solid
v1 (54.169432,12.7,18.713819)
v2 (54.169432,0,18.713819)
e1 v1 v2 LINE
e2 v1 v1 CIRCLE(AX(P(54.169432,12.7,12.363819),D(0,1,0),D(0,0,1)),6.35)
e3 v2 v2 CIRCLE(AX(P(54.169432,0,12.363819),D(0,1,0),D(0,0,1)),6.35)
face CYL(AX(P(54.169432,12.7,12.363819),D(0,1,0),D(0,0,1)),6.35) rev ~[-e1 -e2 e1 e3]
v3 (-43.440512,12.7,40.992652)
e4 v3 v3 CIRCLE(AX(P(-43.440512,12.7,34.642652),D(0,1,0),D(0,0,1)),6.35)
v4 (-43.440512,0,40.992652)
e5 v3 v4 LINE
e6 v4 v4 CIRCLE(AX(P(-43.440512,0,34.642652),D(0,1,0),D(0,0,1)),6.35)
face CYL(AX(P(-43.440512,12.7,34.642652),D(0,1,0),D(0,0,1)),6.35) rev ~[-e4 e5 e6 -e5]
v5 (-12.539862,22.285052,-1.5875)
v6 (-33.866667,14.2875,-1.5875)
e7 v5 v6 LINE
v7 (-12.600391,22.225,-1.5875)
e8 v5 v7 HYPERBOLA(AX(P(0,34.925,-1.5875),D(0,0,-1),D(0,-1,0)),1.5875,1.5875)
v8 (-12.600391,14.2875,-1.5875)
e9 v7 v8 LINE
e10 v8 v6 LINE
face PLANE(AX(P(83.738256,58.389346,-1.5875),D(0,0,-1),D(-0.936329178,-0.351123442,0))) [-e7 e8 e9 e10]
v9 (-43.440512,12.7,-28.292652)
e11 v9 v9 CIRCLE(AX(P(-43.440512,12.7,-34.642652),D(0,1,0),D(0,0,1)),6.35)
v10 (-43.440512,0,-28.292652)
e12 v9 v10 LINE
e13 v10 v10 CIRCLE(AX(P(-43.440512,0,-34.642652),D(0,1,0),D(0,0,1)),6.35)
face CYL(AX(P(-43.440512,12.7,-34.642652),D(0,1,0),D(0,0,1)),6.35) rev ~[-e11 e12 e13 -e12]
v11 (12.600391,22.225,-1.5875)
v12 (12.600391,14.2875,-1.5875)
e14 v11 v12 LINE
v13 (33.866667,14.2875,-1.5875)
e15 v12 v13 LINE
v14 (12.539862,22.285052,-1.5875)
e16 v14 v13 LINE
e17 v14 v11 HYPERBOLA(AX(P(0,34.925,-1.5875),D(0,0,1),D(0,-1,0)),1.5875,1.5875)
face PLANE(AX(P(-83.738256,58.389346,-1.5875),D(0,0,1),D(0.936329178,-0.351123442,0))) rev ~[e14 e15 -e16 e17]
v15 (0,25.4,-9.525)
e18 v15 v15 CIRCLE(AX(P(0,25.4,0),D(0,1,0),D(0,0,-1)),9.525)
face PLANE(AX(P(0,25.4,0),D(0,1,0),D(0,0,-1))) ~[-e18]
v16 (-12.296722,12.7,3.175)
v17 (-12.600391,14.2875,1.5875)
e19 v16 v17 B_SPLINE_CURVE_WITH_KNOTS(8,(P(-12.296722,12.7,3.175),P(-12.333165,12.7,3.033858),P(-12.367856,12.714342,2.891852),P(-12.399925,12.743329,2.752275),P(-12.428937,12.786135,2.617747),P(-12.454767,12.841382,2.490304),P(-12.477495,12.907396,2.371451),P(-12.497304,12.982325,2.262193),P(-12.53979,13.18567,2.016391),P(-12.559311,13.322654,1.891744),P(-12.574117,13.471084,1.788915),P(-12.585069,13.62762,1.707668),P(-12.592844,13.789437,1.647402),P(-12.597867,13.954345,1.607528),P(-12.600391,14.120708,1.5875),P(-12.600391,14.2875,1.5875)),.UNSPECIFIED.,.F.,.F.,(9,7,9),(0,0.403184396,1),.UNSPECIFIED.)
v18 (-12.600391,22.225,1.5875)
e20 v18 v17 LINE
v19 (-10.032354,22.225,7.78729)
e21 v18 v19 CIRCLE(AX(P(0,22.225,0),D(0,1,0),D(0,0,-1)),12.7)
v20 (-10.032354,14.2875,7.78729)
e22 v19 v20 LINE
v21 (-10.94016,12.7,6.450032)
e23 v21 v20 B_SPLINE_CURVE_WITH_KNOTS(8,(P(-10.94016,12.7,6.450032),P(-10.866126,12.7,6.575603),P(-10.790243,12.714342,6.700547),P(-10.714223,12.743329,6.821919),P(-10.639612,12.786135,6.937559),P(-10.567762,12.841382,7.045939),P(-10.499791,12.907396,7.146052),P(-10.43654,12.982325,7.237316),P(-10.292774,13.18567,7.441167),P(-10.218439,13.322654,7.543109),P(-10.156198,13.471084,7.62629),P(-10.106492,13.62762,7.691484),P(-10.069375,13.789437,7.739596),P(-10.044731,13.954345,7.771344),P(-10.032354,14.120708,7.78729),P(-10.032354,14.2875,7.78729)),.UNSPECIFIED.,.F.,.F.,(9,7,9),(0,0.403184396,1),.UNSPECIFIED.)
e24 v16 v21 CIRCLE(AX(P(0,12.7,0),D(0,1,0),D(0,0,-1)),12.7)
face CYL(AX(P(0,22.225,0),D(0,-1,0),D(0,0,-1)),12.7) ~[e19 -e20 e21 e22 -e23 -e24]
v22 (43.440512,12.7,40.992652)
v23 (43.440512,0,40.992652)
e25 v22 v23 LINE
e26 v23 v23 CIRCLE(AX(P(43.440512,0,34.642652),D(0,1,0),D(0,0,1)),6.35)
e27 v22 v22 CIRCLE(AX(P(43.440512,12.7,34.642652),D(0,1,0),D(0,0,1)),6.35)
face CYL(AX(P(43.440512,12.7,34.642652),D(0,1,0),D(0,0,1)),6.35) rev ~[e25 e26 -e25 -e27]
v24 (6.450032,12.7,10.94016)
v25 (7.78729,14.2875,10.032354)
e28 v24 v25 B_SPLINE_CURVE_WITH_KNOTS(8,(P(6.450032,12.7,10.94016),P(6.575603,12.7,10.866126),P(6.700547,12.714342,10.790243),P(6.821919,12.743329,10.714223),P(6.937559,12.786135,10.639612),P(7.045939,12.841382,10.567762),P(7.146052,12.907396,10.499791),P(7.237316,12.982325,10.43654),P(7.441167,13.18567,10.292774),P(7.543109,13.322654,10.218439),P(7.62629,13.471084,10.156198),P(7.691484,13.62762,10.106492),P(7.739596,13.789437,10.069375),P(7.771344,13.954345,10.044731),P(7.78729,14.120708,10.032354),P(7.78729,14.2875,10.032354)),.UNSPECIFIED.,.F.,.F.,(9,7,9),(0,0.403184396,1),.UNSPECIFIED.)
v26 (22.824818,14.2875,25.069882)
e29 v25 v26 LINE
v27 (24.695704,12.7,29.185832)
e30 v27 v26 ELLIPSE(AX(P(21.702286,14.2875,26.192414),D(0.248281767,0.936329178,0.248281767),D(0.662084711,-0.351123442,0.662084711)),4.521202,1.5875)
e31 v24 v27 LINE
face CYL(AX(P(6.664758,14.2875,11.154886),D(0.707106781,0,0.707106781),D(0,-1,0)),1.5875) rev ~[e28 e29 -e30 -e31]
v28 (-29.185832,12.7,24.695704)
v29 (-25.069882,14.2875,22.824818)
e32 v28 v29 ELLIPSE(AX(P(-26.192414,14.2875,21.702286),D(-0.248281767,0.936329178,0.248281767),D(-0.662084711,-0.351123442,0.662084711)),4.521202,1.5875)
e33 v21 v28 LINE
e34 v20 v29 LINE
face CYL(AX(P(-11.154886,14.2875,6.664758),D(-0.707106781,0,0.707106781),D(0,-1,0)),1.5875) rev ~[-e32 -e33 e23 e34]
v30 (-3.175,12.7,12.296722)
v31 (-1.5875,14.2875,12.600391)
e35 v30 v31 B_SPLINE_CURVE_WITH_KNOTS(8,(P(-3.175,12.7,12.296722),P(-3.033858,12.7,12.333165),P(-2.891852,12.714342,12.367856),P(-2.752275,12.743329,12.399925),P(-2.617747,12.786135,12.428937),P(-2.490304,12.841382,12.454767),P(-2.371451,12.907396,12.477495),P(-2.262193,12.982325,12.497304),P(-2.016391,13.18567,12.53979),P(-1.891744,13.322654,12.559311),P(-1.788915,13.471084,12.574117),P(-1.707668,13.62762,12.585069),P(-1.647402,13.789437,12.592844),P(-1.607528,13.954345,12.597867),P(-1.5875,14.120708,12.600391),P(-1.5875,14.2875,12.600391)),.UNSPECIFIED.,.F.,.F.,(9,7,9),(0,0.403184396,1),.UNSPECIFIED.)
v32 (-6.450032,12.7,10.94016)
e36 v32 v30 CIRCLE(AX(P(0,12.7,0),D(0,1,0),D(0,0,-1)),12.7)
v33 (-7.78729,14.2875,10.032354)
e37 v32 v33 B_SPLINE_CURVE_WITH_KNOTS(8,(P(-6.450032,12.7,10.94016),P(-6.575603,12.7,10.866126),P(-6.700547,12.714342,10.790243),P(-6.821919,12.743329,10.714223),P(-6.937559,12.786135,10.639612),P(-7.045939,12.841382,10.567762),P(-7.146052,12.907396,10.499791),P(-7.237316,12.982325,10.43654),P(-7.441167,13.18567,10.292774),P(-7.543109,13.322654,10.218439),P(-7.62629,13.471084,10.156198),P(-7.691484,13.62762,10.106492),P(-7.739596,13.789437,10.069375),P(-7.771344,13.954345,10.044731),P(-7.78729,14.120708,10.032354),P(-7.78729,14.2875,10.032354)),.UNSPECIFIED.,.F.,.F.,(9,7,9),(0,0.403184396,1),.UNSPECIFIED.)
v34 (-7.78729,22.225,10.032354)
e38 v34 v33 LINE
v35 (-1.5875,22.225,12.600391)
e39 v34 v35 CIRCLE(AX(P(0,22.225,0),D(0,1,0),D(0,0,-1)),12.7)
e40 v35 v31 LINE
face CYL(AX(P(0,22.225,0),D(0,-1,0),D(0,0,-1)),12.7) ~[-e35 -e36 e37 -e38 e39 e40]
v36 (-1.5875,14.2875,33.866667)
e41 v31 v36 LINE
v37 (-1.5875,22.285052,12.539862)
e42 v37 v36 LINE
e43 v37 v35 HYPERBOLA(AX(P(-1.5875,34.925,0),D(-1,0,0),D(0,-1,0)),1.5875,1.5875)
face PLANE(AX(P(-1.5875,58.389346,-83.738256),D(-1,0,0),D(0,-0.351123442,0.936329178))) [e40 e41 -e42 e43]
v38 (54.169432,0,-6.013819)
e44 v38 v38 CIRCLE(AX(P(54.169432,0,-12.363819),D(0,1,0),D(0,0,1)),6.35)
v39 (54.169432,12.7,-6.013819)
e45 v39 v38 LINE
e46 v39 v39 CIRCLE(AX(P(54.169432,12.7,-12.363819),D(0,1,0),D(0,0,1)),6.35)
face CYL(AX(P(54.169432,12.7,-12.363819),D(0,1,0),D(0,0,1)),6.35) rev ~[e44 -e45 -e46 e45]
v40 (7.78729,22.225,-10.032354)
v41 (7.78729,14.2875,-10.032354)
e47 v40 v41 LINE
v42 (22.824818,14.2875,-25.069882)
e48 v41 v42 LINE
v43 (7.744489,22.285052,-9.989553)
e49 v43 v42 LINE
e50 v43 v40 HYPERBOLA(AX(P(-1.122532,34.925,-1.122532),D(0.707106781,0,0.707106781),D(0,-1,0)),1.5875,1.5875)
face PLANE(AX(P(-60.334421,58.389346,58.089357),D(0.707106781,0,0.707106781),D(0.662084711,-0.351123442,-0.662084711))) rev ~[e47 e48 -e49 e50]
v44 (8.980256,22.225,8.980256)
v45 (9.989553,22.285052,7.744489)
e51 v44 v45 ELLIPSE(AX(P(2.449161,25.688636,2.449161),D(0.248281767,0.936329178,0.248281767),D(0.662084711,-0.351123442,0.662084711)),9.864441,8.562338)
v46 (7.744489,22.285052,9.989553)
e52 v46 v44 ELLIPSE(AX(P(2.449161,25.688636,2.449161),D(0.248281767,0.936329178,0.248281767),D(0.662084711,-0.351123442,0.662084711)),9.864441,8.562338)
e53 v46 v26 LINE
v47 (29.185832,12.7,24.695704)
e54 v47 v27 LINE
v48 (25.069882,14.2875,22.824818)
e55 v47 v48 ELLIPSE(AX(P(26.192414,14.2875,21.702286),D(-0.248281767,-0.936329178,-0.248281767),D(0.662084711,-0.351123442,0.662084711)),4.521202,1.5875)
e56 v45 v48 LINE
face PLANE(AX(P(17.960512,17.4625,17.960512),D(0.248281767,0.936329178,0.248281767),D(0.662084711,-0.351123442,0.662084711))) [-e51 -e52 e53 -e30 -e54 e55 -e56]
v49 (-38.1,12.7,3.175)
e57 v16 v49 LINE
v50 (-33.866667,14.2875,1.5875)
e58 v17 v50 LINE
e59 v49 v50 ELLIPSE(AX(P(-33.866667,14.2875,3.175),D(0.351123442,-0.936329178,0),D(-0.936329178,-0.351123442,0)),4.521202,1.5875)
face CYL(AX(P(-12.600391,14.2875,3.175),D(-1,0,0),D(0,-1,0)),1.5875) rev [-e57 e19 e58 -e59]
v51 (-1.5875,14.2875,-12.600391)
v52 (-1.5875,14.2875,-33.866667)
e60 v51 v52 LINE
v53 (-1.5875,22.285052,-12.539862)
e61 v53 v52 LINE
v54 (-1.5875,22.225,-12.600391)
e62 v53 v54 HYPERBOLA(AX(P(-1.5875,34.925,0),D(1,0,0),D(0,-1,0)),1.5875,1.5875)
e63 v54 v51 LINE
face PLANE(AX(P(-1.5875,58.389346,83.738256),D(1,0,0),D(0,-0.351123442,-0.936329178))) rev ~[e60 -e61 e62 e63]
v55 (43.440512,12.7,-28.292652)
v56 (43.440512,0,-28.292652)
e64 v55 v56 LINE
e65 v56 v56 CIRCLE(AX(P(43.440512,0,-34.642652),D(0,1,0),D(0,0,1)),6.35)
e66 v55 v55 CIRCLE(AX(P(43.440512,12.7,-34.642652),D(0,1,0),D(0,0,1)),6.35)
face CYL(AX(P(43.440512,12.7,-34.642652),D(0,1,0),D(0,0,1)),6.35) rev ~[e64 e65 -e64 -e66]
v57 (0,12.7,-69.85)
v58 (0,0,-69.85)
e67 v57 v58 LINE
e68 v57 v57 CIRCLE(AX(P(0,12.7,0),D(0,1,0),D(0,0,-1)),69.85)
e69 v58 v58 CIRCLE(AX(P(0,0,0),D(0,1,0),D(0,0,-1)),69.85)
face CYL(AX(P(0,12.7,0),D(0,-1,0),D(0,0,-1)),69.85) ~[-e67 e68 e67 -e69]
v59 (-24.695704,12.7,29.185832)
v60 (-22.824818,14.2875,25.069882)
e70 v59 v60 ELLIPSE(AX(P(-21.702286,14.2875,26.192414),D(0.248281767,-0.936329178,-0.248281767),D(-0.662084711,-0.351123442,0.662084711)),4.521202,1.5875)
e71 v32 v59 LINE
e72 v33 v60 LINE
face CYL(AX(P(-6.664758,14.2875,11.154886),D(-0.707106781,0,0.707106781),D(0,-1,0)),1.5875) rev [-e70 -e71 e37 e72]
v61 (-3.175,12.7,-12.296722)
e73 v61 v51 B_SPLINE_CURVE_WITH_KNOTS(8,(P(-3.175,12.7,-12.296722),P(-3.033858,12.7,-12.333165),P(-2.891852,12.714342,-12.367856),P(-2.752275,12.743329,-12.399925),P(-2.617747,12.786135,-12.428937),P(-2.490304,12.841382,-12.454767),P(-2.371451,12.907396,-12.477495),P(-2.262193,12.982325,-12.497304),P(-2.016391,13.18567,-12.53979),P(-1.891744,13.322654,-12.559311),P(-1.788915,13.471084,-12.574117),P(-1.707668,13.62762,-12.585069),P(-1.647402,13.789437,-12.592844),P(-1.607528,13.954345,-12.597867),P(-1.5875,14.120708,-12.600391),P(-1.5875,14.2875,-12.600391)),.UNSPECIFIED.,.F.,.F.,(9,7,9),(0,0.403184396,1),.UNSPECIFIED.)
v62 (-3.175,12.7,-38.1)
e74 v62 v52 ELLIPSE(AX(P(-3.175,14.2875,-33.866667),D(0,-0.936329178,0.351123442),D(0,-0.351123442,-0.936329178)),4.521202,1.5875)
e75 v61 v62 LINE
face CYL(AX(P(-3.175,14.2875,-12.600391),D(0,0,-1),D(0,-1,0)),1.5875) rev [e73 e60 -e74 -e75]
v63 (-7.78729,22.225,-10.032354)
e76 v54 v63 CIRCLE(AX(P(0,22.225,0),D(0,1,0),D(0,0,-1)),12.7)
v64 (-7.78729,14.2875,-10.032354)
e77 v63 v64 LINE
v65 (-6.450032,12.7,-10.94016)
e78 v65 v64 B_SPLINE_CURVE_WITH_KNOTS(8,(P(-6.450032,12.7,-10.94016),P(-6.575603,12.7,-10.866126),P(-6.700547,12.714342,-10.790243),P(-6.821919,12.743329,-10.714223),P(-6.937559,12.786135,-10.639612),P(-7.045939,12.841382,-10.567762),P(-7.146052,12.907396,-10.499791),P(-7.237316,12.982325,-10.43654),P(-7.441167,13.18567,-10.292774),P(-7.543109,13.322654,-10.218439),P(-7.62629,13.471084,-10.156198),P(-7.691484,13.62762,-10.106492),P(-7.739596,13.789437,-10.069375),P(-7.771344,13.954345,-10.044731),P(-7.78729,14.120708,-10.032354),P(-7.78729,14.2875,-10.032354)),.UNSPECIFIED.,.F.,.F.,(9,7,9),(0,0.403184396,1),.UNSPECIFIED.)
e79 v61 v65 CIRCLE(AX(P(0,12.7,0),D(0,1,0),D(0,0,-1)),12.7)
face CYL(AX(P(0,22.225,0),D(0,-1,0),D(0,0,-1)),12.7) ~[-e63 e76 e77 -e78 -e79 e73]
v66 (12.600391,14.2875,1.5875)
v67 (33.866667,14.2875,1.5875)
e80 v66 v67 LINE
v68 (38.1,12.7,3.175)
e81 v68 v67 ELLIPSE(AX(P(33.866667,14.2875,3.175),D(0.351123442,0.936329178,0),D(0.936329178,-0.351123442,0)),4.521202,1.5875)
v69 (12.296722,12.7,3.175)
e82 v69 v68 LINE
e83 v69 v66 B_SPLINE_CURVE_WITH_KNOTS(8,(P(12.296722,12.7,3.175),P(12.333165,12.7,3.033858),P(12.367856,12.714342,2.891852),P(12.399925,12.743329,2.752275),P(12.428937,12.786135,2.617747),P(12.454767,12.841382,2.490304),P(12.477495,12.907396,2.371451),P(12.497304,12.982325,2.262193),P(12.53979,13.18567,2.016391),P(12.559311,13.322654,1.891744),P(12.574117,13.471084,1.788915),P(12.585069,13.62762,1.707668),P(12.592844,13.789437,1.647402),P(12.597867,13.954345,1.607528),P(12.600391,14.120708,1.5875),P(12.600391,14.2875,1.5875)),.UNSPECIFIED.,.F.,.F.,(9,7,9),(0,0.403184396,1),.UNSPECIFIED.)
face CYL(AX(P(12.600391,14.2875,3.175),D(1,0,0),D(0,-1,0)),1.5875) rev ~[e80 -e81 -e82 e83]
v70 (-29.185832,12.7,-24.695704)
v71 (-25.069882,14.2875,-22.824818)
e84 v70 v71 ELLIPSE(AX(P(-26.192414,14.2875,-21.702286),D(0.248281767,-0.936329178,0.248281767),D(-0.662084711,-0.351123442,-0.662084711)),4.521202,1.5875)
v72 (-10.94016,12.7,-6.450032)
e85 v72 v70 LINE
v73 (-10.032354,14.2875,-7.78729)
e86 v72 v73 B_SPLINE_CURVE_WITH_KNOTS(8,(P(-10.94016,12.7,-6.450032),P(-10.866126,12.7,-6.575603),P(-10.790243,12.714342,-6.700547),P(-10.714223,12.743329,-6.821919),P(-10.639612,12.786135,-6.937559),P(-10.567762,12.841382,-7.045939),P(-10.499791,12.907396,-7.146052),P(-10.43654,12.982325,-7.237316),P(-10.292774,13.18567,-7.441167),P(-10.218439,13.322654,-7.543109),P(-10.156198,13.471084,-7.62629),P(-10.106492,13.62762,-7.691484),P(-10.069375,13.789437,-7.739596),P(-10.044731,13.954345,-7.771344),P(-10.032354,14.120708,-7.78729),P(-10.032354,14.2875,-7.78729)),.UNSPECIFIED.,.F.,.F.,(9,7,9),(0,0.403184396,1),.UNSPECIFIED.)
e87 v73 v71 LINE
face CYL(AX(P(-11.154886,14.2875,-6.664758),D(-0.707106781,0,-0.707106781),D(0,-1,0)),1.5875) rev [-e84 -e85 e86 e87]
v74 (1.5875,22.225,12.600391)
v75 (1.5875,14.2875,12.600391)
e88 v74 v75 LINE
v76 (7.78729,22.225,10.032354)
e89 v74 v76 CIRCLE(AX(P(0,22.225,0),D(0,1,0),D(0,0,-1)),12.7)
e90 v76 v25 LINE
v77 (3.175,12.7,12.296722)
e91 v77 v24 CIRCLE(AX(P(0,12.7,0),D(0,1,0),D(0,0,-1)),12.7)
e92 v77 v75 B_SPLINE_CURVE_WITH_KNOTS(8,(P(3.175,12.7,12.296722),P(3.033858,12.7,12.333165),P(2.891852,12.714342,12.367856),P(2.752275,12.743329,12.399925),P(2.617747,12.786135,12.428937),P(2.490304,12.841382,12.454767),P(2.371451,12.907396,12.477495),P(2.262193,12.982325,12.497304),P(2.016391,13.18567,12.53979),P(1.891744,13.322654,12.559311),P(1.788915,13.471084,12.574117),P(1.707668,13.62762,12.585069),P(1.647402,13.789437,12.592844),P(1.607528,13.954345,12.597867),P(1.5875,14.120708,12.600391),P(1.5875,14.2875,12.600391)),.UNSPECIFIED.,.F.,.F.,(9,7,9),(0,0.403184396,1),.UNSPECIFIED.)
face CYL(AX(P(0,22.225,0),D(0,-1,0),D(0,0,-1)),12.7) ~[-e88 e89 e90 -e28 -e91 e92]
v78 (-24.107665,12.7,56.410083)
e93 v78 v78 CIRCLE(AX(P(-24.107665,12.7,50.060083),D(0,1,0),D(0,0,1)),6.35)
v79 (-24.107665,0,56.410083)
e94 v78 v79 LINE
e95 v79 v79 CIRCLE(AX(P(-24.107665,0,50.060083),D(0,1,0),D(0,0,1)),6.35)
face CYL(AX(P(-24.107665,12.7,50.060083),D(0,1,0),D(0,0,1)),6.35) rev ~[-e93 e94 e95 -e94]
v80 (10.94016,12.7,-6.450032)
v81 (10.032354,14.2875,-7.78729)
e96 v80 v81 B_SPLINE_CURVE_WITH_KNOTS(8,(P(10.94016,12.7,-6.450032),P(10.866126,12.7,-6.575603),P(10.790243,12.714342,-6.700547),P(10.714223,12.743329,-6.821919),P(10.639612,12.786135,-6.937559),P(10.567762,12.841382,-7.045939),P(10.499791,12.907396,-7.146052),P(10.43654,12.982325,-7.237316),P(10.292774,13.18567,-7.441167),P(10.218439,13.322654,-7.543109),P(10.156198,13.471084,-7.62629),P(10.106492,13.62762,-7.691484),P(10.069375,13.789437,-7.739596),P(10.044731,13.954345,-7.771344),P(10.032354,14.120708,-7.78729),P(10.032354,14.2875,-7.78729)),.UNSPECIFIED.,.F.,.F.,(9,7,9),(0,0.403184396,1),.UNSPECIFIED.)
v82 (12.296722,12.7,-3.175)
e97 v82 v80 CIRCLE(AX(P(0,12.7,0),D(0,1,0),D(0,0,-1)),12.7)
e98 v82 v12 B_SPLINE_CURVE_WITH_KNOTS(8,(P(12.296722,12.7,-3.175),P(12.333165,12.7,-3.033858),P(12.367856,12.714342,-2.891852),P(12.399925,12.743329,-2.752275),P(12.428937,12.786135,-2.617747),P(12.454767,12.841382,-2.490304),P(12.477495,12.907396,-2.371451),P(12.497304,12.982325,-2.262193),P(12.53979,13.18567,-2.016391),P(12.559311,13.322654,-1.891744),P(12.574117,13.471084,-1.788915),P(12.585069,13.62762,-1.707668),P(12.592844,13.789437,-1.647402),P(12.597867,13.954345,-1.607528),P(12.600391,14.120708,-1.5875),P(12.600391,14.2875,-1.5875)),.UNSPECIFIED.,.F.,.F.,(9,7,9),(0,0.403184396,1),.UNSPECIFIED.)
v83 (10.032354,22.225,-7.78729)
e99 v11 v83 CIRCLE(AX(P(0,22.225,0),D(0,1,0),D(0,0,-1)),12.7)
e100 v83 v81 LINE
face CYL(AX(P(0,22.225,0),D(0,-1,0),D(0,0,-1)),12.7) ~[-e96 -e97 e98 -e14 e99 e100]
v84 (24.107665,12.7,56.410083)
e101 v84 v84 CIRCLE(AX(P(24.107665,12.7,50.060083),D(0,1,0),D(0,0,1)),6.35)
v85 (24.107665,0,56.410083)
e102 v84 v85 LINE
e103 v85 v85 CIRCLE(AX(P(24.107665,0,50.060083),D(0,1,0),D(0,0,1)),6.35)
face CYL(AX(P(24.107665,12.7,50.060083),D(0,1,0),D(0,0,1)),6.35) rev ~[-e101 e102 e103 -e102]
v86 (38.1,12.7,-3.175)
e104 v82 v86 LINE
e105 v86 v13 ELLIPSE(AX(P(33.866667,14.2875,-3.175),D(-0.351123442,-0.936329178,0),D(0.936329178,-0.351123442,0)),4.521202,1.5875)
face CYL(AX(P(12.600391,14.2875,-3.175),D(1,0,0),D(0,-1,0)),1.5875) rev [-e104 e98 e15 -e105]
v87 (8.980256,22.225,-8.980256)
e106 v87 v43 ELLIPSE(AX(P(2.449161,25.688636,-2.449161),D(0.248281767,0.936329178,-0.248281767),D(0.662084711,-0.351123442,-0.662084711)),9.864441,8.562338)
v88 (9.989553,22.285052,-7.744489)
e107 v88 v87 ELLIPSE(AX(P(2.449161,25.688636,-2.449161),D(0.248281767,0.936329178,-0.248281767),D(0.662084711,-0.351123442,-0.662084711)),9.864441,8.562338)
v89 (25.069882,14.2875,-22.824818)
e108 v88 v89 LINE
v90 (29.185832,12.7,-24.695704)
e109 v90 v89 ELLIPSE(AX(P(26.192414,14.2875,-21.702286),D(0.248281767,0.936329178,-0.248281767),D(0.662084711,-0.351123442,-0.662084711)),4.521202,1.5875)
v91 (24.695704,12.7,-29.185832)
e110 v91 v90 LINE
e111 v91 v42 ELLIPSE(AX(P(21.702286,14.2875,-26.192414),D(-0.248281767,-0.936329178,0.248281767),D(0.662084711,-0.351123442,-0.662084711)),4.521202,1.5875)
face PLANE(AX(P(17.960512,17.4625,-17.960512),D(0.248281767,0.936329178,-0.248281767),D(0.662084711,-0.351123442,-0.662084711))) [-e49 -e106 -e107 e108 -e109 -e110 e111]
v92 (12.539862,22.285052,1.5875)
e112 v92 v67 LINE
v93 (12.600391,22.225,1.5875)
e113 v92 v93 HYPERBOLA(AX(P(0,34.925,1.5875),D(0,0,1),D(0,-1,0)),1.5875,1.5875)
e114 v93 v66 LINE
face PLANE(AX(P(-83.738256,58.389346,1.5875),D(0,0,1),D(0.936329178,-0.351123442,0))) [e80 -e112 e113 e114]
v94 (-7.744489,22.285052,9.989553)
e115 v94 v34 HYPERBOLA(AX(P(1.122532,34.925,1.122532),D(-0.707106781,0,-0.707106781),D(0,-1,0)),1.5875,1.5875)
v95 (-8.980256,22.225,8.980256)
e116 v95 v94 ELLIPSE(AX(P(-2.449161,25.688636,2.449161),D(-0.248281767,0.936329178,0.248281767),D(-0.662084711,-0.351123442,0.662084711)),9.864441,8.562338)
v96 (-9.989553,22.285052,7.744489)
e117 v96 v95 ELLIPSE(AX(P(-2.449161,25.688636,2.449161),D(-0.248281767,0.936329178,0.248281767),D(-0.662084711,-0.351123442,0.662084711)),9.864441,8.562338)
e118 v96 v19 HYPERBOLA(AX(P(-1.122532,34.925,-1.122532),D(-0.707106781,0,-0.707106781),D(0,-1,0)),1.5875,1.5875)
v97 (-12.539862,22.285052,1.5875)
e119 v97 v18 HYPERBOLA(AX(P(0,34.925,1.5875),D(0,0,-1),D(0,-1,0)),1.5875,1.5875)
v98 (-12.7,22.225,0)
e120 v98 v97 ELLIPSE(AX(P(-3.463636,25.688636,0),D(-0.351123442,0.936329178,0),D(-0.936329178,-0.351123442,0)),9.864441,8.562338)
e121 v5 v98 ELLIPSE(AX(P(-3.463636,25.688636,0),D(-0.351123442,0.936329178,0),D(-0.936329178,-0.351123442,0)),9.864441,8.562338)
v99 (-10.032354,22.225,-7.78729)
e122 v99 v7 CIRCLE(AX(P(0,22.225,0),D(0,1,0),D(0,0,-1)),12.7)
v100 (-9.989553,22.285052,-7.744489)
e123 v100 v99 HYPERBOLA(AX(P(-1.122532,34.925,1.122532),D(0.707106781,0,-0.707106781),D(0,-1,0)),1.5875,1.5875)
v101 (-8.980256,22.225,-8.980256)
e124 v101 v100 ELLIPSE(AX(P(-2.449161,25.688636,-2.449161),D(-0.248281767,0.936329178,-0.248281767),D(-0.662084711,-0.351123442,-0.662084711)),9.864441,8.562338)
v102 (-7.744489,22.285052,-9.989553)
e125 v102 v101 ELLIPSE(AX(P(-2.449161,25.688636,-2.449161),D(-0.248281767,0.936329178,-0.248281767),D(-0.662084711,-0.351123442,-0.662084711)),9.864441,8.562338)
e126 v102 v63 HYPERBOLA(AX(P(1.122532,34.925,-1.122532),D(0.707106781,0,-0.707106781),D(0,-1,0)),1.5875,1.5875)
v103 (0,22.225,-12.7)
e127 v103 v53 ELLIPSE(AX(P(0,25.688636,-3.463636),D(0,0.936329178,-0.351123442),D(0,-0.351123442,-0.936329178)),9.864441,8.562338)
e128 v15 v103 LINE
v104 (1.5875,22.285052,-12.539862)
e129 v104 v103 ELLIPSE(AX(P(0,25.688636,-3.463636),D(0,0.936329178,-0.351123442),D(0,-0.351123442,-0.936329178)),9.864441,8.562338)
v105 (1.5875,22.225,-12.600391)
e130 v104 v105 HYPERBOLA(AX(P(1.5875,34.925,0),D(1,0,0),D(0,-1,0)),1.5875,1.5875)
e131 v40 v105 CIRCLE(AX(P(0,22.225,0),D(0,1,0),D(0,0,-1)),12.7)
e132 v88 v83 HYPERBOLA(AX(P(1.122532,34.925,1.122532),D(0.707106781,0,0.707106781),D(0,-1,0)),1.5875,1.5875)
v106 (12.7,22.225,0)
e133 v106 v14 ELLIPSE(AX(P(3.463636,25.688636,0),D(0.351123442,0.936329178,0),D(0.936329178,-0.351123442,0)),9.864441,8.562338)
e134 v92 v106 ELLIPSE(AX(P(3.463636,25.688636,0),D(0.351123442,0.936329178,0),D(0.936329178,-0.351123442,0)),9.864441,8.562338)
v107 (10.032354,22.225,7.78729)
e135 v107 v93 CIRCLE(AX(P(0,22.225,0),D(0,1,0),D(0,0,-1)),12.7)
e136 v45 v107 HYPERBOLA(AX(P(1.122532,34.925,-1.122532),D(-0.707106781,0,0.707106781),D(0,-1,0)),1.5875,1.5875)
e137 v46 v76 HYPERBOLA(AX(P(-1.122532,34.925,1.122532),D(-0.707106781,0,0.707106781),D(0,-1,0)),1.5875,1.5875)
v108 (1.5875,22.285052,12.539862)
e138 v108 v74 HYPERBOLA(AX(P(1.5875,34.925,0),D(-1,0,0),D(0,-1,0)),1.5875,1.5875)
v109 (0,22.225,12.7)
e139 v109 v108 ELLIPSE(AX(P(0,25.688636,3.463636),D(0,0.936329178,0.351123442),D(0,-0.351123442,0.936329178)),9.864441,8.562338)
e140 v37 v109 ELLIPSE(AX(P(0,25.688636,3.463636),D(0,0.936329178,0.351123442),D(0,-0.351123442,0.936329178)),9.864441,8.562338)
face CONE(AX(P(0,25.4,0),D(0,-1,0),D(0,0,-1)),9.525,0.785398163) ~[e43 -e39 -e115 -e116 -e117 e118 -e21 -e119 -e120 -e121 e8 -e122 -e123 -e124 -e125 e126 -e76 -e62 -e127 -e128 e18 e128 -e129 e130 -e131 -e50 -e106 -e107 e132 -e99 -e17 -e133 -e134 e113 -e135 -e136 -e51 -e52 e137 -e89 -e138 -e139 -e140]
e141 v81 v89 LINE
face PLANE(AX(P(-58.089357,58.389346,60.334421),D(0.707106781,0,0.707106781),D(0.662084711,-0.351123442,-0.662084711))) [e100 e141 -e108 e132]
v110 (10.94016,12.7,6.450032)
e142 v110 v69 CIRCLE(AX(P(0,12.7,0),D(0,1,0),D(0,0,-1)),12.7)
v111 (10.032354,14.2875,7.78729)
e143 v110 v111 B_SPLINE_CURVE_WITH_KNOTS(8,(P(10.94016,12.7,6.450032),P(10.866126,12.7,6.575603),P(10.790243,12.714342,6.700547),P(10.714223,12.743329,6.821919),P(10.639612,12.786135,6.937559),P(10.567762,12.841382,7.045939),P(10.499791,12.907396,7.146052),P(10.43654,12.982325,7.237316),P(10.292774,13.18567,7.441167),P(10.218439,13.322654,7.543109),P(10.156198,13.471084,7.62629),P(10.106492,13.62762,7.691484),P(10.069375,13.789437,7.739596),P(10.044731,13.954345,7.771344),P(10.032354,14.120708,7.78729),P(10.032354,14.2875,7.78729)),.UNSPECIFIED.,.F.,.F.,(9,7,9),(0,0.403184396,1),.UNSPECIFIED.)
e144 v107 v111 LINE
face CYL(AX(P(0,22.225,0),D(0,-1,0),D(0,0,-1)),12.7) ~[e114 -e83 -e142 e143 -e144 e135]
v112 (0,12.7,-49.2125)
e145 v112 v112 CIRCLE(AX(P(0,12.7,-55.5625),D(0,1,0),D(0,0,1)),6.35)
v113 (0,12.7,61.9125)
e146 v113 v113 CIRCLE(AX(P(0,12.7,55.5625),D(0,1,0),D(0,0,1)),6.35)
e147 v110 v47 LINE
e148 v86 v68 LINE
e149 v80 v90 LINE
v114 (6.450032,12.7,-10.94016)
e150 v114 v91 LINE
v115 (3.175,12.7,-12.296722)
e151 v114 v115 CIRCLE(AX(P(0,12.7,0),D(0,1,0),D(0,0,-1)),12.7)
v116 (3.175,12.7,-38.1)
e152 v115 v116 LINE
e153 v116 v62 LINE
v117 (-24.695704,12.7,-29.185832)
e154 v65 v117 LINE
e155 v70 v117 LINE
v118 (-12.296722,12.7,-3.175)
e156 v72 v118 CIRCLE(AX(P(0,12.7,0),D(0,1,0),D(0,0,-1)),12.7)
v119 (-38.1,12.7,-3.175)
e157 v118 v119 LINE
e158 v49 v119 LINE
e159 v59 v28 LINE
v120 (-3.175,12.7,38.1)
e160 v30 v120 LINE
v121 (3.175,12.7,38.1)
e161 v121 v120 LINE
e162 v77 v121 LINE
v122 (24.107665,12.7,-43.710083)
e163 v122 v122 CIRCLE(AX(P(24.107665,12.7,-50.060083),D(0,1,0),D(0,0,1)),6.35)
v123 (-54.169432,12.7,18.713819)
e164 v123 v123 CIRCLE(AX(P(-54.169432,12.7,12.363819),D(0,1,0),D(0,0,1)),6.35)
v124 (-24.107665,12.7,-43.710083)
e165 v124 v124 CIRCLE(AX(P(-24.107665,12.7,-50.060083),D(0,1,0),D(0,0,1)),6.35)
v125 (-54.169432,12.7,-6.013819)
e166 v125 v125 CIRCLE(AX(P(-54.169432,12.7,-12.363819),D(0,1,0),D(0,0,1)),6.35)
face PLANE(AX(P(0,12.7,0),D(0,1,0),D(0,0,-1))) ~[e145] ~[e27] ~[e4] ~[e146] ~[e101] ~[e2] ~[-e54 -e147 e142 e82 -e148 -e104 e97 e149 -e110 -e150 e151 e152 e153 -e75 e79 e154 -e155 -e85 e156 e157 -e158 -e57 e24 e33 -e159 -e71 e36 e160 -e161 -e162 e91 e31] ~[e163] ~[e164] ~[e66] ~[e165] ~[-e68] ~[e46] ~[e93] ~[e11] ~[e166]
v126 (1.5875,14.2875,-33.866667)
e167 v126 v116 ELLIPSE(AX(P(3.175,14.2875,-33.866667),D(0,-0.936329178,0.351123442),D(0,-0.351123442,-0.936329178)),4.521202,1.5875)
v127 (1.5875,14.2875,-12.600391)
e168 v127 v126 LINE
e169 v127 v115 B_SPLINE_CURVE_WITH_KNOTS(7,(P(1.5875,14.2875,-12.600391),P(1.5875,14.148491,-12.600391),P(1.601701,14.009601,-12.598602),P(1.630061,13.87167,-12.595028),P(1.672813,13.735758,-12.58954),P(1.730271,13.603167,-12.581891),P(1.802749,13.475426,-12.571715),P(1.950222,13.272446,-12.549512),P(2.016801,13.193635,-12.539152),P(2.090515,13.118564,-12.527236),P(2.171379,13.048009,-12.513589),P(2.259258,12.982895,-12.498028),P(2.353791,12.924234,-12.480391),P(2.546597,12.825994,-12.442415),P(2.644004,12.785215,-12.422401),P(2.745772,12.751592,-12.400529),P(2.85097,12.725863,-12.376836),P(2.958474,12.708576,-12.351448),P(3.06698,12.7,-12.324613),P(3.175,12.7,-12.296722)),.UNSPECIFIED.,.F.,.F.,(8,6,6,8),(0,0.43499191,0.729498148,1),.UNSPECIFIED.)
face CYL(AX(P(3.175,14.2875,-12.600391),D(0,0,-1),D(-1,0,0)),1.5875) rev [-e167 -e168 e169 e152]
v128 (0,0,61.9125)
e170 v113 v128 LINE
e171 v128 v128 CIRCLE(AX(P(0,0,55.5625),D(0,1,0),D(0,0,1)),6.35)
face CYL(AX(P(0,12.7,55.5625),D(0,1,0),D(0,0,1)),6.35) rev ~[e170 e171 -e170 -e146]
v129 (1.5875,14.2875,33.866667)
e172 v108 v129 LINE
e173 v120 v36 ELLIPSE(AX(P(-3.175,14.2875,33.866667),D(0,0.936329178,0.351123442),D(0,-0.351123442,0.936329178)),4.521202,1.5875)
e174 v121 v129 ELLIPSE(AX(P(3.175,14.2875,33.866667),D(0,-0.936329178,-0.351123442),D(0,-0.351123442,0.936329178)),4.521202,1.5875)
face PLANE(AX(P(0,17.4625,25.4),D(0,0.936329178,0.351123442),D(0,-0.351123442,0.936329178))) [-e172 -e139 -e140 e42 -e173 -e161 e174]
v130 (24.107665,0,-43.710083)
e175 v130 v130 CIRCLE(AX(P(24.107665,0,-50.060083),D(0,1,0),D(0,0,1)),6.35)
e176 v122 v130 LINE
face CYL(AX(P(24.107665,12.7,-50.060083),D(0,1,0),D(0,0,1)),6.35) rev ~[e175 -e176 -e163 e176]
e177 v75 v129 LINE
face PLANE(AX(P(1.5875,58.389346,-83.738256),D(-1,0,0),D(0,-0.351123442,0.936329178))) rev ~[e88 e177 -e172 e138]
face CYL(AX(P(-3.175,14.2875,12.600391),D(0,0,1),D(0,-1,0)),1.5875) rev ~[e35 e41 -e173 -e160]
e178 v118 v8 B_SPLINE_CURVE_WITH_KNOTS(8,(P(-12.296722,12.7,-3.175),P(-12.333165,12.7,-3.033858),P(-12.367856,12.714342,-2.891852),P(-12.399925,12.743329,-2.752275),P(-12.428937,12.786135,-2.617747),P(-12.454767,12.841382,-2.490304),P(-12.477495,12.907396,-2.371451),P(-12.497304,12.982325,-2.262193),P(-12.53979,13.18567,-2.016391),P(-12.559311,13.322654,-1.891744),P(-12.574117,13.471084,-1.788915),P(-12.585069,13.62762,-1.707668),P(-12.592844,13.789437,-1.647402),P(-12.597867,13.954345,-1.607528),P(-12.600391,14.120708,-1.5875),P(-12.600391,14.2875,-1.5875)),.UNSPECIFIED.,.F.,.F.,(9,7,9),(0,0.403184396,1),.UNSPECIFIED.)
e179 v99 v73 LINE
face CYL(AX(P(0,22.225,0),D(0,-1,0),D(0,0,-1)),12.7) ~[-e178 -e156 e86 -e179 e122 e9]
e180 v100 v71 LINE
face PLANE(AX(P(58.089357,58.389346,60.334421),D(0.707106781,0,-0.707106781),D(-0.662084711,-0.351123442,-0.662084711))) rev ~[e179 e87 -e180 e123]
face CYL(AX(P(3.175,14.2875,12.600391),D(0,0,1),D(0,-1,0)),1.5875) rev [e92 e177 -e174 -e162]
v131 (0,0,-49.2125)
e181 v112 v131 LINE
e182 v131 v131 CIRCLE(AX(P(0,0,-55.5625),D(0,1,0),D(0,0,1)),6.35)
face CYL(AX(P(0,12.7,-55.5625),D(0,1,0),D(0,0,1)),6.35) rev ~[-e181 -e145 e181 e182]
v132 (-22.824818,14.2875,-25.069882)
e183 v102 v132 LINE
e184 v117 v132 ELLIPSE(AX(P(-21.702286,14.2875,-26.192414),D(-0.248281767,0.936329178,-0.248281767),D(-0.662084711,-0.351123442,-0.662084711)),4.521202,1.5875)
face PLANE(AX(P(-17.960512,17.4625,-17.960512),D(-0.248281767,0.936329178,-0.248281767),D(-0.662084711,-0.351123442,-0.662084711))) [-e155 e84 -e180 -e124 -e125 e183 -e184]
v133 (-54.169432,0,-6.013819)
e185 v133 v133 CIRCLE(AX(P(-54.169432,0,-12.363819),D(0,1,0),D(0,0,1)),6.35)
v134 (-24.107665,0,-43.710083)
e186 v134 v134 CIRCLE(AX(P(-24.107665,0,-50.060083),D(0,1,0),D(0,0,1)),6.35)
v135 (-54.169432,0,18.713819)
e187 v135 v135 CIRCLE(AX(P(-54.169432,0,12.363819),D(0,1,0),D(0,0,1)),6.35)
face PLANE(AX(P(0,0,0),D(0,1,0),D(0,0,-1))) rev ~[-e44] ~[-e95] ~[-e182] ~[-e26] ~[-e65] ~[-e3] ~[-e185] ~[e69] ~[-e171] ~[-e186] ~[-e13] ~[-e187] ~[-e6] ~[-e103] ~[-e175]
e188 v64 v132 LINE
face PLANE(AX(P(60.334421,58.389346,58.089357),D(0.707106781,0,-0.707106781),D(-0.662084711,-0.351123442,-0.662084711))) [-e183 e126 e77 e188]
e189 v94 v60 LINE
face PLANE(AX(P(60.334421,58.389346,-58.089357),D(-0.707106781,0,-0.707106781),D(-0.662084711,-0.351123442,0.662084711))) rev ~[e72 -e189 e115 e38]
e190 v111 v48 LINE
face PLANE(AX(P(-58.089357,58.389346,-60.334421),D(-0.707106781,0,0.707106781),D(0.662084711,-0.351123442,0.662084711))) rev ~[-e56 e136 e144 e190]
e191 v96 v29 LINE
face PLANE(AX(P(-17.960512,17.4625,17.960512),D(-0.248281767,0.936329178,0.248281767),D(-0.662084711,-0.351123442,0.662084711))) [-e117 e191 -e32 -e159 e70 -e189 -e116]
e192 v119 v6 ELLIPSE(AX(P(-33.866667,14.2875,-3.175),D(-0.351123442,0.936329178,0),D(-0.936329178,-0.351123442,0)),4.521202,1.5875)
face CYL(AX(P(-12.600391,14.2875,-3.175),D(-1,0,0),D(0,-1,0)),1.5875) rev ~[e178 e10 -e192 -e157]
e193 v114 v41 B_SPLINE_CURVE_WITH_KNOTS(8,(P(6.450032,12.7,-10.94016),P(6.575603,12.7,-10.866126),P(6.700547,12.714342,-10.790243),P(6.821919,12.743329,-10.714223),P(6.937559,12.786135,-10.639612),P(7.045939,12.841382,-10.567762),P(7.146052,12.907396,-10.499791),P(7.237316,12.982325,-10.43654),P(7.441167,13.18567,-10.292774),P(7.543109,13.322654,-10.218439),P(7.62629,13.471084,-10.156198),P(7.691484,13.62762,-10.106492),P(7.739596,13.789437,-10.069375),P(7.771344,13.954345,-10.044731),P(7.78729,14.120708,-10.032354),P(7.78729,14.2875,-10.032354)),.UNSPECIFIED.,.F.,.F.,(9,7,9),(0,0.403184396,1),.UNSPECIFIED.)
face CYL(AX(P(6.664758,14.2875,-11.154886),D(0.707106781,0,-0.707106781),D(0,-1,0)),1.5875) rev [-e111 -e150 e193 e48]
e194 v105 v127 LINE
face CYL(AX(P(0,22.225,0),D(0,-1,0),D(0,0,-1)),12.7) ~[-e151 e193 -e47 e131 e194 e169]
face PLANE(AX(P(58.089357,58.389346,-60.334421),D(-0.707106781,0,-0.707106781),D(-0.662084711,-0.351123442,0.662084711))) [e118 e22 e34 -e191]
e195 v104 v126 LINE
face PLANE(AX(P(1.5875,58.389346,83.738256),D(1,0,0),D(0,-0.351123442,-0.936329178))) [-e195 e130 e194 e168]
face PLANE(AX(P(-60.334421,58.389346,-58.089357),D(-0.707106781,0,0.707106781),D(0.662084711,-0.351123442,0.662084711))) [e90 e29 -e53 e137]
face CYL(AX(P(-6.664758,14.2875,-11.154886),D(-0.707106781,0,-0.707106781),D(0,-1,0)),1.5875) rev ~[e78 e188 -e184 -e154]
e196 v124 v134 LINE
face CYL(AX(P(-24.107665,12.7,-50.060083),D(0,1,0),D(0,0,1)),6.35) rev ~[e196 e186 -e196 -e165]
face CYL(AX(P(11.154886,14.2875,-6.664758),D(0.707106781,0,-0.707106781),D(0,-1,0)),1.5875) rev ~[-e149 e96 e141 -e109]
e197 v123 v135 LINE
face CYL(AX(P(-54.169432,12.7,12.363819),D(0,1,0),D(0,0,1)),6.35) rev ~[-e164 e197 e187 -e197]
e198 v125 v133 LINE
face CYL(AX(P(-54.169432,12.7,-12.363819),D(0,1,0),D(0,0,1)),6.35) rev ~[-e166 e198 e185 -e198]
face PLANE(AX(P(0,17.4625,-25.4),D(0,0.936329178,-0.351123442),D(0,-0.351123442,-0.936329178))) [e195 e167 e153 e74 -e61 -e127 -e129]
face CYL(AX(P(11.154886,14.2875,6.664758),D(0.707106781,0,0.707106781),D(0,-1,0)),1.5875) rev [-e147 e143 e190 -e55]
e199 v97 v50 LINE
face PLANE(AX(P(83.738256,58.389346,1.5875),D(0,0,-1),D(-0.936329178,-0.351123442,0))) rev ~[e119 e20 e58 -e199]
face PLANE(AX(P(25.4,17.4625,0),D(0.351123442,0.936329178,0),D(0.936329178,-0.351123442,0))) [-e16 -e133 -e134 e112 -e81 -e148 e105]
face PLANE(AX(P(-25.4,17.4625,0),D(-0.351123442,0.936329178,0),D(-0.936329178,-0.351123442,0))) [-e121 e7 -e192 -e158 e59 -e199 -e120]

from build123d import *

# Parameters (mm, degrees)
SKETCH4_R                = 6.35
CUT_EXTRUDE1_DEPTH       = 100.595858348
RIB9_REACH               = 103.996
SKETCH6_WALL_W           = 233.119417624
SKETCH6_WALL_H           = 3.175
FILLET1_R                = 1.5875
CIRPATTERN1_COUNT        = 8
FILLET1_OF_CIRPATTERN1_R = 1.5875


with BuildPart() as part:
    # Sketch3 → Revolve1 (revolve)
    with BuildSketch(Plane.XY, mode=Mode.PRIVATE) as revolve1_sk:
        Polygon((0, 25.4), (9.525, 25.4), (12.7, 22.225), (12.7, 12.7), (69.85, 12.7), (69.85, 0), (0, 0), align=None)
    revolve(revolve1_sk.sketch.rotate(Axis((0, 0, 0), (0, 1, 0)), 90), axis=Axis((0, 0, 0), (0, 1, 0)))

    # Sketch4 → Cut-Extrude1 (cut, through all)
    with BuildSketch(Plane(origin=(0, 12.7, 0), x_dir=(1, 0, 0), z_dir=(0, 1, 0))):
        with Locations(Location((0, 55.5625, 0), (0, 0, 270))):
            Circle(SKETCH4_R)
        with Locations(Location((24.107665255, 50.060082723, 0), (0, 0, 270))):
            Circle(SKETCH4_R)
        with Locations(Location((43.440511745, 34.642652116, 0), (0, 0, 270))):
            Circle(SKETCH4_R)
        with Locations(Location((54.169432121, 12.363819393, 0), (0, 0, 270))):
            Circle(SKETCH4_R)
        with Locations(Location((54.169432121, -12.363819393, 0), (0, 0, 270))):
            Circle(SKETCH4_R)
        with Locations(Location((43.440511745, -34.642652116, 0), (0, 0, 270))):
            Circle(SKETCH4_R)
        with Locations(Location((24.107665255, -50.060082723, 0), (0, 0, 270))):
            Circle(SKETCH4_R)
        with Locations(Location((0, -55.5625, 0), (0, 0, 270))):
            Circle(SKETCH4_R)
        with Locations(Location((-24.107665255, -50.060082723, 0), (0, 0, 270))):
            Circle(SKETCH4_R)
        with Locations(Location((-43.440511745, -34.642652116, 0), (0, 0, 270))):
            Circle(SKETCH4_R)
        with Locations(Location((-54.169432121, -12.363819393, 0), (0, 0, 270))):
            Circle(SKETCH4_R)
        with Locations(Location((-54.169432121, 12.363819393, 0), (0, 0, 270))):
            Circle(SKETCH4_R)
        with Locations(Location((-43.440511745, 34.642652116, 0), (0, 0, 270))):
            Circle(SKETCH4_R)
        with Locations(Location((-24.107665255, 50.060082723, 0), (0, 0, 270))):
            Circle(SKETCH4_R)
    extrude(amount=-CUT_EXTRUDE1_DEPTH, mode=Mode.SUBTRACT)

    # Sketch6 wall → Rib9 (add, up to next)
    with BuildSketch(Plane(origin=(0, 17.4625, -25.4), x_dir=(0, -0.351123441588, -0.936329177569), z_dir=(0, 0.936329177569, -0.351123441588)), mode=Mode.PRIVATE) as rib9_sk1:
        Rectangle(SKETCH6_WALL_W, SKETCH6_WALL_H)
    rib9_tool1 = extrude(rib9_sk1.sketch, amount=-RIB9_REACH, mode=Mode.PRIVATE) - part.part
    rib9 = rib9_tool1.solids().sort_by_distance((0, 17.4625, -25.4))[0]
    add(rib9)

    # Fillet1
    fillet1_edges = [part.edges().sort_by_distance(p)[0] for p in [
        (1.5875, 12.7, -25.350195309),
        (-1.5875, 12.7, -25.350195309),
    ]]
    fillet(fillet1_edges, radius=FILLET1_R)

    # CirPattern1: Rib9 ×8 about axis
    cirpattern1_axis = Axis((0, 0, 0), (0, 1, 0))
    for i in range(1, CIRPATTERN1_COUNT):
        add(rib9.rotate(cirpattern1_axis, i * 360 / CIRPATTERN1_COUNT))

    # Fillet1 of CirPattern1
    fillet1_of_cirpattern1_edges = [part.edges().sort_by_distance(p)[0] for p in [
        (-16.802762993, 12.7, -19.047827023),
        (-19.047827023, 12.7, -16.802762993),
        (-25.350195309, 12.7, -1.5875),
        (-25.350195309, 12.7, 1.5875),
        (-19.047827023, 12.7, 16.802762993),
        (-16.802762993, 12.7, 19.047827023),
        (-1.5875, 12.7, 25.350195309),
        (1.5875, 12.7, 25.350195309),
        (16.802762993, 12.7, 19.047827023),
        (19.047827023, 12.7, 16.802762993),
        (25.350195309, 12.7, 1.5875),
        (25.350195309, 12.7, -1.5875),
        (19.047827023, 12.7, -16.802762993),
        (16.802762993, 12.7, -19.047827023),
    ]]
    fillet(fillet1_of_cirpattern1_edges, radius=FILLET1_OF_CIRPATTERN1_R)


solid = part.part
